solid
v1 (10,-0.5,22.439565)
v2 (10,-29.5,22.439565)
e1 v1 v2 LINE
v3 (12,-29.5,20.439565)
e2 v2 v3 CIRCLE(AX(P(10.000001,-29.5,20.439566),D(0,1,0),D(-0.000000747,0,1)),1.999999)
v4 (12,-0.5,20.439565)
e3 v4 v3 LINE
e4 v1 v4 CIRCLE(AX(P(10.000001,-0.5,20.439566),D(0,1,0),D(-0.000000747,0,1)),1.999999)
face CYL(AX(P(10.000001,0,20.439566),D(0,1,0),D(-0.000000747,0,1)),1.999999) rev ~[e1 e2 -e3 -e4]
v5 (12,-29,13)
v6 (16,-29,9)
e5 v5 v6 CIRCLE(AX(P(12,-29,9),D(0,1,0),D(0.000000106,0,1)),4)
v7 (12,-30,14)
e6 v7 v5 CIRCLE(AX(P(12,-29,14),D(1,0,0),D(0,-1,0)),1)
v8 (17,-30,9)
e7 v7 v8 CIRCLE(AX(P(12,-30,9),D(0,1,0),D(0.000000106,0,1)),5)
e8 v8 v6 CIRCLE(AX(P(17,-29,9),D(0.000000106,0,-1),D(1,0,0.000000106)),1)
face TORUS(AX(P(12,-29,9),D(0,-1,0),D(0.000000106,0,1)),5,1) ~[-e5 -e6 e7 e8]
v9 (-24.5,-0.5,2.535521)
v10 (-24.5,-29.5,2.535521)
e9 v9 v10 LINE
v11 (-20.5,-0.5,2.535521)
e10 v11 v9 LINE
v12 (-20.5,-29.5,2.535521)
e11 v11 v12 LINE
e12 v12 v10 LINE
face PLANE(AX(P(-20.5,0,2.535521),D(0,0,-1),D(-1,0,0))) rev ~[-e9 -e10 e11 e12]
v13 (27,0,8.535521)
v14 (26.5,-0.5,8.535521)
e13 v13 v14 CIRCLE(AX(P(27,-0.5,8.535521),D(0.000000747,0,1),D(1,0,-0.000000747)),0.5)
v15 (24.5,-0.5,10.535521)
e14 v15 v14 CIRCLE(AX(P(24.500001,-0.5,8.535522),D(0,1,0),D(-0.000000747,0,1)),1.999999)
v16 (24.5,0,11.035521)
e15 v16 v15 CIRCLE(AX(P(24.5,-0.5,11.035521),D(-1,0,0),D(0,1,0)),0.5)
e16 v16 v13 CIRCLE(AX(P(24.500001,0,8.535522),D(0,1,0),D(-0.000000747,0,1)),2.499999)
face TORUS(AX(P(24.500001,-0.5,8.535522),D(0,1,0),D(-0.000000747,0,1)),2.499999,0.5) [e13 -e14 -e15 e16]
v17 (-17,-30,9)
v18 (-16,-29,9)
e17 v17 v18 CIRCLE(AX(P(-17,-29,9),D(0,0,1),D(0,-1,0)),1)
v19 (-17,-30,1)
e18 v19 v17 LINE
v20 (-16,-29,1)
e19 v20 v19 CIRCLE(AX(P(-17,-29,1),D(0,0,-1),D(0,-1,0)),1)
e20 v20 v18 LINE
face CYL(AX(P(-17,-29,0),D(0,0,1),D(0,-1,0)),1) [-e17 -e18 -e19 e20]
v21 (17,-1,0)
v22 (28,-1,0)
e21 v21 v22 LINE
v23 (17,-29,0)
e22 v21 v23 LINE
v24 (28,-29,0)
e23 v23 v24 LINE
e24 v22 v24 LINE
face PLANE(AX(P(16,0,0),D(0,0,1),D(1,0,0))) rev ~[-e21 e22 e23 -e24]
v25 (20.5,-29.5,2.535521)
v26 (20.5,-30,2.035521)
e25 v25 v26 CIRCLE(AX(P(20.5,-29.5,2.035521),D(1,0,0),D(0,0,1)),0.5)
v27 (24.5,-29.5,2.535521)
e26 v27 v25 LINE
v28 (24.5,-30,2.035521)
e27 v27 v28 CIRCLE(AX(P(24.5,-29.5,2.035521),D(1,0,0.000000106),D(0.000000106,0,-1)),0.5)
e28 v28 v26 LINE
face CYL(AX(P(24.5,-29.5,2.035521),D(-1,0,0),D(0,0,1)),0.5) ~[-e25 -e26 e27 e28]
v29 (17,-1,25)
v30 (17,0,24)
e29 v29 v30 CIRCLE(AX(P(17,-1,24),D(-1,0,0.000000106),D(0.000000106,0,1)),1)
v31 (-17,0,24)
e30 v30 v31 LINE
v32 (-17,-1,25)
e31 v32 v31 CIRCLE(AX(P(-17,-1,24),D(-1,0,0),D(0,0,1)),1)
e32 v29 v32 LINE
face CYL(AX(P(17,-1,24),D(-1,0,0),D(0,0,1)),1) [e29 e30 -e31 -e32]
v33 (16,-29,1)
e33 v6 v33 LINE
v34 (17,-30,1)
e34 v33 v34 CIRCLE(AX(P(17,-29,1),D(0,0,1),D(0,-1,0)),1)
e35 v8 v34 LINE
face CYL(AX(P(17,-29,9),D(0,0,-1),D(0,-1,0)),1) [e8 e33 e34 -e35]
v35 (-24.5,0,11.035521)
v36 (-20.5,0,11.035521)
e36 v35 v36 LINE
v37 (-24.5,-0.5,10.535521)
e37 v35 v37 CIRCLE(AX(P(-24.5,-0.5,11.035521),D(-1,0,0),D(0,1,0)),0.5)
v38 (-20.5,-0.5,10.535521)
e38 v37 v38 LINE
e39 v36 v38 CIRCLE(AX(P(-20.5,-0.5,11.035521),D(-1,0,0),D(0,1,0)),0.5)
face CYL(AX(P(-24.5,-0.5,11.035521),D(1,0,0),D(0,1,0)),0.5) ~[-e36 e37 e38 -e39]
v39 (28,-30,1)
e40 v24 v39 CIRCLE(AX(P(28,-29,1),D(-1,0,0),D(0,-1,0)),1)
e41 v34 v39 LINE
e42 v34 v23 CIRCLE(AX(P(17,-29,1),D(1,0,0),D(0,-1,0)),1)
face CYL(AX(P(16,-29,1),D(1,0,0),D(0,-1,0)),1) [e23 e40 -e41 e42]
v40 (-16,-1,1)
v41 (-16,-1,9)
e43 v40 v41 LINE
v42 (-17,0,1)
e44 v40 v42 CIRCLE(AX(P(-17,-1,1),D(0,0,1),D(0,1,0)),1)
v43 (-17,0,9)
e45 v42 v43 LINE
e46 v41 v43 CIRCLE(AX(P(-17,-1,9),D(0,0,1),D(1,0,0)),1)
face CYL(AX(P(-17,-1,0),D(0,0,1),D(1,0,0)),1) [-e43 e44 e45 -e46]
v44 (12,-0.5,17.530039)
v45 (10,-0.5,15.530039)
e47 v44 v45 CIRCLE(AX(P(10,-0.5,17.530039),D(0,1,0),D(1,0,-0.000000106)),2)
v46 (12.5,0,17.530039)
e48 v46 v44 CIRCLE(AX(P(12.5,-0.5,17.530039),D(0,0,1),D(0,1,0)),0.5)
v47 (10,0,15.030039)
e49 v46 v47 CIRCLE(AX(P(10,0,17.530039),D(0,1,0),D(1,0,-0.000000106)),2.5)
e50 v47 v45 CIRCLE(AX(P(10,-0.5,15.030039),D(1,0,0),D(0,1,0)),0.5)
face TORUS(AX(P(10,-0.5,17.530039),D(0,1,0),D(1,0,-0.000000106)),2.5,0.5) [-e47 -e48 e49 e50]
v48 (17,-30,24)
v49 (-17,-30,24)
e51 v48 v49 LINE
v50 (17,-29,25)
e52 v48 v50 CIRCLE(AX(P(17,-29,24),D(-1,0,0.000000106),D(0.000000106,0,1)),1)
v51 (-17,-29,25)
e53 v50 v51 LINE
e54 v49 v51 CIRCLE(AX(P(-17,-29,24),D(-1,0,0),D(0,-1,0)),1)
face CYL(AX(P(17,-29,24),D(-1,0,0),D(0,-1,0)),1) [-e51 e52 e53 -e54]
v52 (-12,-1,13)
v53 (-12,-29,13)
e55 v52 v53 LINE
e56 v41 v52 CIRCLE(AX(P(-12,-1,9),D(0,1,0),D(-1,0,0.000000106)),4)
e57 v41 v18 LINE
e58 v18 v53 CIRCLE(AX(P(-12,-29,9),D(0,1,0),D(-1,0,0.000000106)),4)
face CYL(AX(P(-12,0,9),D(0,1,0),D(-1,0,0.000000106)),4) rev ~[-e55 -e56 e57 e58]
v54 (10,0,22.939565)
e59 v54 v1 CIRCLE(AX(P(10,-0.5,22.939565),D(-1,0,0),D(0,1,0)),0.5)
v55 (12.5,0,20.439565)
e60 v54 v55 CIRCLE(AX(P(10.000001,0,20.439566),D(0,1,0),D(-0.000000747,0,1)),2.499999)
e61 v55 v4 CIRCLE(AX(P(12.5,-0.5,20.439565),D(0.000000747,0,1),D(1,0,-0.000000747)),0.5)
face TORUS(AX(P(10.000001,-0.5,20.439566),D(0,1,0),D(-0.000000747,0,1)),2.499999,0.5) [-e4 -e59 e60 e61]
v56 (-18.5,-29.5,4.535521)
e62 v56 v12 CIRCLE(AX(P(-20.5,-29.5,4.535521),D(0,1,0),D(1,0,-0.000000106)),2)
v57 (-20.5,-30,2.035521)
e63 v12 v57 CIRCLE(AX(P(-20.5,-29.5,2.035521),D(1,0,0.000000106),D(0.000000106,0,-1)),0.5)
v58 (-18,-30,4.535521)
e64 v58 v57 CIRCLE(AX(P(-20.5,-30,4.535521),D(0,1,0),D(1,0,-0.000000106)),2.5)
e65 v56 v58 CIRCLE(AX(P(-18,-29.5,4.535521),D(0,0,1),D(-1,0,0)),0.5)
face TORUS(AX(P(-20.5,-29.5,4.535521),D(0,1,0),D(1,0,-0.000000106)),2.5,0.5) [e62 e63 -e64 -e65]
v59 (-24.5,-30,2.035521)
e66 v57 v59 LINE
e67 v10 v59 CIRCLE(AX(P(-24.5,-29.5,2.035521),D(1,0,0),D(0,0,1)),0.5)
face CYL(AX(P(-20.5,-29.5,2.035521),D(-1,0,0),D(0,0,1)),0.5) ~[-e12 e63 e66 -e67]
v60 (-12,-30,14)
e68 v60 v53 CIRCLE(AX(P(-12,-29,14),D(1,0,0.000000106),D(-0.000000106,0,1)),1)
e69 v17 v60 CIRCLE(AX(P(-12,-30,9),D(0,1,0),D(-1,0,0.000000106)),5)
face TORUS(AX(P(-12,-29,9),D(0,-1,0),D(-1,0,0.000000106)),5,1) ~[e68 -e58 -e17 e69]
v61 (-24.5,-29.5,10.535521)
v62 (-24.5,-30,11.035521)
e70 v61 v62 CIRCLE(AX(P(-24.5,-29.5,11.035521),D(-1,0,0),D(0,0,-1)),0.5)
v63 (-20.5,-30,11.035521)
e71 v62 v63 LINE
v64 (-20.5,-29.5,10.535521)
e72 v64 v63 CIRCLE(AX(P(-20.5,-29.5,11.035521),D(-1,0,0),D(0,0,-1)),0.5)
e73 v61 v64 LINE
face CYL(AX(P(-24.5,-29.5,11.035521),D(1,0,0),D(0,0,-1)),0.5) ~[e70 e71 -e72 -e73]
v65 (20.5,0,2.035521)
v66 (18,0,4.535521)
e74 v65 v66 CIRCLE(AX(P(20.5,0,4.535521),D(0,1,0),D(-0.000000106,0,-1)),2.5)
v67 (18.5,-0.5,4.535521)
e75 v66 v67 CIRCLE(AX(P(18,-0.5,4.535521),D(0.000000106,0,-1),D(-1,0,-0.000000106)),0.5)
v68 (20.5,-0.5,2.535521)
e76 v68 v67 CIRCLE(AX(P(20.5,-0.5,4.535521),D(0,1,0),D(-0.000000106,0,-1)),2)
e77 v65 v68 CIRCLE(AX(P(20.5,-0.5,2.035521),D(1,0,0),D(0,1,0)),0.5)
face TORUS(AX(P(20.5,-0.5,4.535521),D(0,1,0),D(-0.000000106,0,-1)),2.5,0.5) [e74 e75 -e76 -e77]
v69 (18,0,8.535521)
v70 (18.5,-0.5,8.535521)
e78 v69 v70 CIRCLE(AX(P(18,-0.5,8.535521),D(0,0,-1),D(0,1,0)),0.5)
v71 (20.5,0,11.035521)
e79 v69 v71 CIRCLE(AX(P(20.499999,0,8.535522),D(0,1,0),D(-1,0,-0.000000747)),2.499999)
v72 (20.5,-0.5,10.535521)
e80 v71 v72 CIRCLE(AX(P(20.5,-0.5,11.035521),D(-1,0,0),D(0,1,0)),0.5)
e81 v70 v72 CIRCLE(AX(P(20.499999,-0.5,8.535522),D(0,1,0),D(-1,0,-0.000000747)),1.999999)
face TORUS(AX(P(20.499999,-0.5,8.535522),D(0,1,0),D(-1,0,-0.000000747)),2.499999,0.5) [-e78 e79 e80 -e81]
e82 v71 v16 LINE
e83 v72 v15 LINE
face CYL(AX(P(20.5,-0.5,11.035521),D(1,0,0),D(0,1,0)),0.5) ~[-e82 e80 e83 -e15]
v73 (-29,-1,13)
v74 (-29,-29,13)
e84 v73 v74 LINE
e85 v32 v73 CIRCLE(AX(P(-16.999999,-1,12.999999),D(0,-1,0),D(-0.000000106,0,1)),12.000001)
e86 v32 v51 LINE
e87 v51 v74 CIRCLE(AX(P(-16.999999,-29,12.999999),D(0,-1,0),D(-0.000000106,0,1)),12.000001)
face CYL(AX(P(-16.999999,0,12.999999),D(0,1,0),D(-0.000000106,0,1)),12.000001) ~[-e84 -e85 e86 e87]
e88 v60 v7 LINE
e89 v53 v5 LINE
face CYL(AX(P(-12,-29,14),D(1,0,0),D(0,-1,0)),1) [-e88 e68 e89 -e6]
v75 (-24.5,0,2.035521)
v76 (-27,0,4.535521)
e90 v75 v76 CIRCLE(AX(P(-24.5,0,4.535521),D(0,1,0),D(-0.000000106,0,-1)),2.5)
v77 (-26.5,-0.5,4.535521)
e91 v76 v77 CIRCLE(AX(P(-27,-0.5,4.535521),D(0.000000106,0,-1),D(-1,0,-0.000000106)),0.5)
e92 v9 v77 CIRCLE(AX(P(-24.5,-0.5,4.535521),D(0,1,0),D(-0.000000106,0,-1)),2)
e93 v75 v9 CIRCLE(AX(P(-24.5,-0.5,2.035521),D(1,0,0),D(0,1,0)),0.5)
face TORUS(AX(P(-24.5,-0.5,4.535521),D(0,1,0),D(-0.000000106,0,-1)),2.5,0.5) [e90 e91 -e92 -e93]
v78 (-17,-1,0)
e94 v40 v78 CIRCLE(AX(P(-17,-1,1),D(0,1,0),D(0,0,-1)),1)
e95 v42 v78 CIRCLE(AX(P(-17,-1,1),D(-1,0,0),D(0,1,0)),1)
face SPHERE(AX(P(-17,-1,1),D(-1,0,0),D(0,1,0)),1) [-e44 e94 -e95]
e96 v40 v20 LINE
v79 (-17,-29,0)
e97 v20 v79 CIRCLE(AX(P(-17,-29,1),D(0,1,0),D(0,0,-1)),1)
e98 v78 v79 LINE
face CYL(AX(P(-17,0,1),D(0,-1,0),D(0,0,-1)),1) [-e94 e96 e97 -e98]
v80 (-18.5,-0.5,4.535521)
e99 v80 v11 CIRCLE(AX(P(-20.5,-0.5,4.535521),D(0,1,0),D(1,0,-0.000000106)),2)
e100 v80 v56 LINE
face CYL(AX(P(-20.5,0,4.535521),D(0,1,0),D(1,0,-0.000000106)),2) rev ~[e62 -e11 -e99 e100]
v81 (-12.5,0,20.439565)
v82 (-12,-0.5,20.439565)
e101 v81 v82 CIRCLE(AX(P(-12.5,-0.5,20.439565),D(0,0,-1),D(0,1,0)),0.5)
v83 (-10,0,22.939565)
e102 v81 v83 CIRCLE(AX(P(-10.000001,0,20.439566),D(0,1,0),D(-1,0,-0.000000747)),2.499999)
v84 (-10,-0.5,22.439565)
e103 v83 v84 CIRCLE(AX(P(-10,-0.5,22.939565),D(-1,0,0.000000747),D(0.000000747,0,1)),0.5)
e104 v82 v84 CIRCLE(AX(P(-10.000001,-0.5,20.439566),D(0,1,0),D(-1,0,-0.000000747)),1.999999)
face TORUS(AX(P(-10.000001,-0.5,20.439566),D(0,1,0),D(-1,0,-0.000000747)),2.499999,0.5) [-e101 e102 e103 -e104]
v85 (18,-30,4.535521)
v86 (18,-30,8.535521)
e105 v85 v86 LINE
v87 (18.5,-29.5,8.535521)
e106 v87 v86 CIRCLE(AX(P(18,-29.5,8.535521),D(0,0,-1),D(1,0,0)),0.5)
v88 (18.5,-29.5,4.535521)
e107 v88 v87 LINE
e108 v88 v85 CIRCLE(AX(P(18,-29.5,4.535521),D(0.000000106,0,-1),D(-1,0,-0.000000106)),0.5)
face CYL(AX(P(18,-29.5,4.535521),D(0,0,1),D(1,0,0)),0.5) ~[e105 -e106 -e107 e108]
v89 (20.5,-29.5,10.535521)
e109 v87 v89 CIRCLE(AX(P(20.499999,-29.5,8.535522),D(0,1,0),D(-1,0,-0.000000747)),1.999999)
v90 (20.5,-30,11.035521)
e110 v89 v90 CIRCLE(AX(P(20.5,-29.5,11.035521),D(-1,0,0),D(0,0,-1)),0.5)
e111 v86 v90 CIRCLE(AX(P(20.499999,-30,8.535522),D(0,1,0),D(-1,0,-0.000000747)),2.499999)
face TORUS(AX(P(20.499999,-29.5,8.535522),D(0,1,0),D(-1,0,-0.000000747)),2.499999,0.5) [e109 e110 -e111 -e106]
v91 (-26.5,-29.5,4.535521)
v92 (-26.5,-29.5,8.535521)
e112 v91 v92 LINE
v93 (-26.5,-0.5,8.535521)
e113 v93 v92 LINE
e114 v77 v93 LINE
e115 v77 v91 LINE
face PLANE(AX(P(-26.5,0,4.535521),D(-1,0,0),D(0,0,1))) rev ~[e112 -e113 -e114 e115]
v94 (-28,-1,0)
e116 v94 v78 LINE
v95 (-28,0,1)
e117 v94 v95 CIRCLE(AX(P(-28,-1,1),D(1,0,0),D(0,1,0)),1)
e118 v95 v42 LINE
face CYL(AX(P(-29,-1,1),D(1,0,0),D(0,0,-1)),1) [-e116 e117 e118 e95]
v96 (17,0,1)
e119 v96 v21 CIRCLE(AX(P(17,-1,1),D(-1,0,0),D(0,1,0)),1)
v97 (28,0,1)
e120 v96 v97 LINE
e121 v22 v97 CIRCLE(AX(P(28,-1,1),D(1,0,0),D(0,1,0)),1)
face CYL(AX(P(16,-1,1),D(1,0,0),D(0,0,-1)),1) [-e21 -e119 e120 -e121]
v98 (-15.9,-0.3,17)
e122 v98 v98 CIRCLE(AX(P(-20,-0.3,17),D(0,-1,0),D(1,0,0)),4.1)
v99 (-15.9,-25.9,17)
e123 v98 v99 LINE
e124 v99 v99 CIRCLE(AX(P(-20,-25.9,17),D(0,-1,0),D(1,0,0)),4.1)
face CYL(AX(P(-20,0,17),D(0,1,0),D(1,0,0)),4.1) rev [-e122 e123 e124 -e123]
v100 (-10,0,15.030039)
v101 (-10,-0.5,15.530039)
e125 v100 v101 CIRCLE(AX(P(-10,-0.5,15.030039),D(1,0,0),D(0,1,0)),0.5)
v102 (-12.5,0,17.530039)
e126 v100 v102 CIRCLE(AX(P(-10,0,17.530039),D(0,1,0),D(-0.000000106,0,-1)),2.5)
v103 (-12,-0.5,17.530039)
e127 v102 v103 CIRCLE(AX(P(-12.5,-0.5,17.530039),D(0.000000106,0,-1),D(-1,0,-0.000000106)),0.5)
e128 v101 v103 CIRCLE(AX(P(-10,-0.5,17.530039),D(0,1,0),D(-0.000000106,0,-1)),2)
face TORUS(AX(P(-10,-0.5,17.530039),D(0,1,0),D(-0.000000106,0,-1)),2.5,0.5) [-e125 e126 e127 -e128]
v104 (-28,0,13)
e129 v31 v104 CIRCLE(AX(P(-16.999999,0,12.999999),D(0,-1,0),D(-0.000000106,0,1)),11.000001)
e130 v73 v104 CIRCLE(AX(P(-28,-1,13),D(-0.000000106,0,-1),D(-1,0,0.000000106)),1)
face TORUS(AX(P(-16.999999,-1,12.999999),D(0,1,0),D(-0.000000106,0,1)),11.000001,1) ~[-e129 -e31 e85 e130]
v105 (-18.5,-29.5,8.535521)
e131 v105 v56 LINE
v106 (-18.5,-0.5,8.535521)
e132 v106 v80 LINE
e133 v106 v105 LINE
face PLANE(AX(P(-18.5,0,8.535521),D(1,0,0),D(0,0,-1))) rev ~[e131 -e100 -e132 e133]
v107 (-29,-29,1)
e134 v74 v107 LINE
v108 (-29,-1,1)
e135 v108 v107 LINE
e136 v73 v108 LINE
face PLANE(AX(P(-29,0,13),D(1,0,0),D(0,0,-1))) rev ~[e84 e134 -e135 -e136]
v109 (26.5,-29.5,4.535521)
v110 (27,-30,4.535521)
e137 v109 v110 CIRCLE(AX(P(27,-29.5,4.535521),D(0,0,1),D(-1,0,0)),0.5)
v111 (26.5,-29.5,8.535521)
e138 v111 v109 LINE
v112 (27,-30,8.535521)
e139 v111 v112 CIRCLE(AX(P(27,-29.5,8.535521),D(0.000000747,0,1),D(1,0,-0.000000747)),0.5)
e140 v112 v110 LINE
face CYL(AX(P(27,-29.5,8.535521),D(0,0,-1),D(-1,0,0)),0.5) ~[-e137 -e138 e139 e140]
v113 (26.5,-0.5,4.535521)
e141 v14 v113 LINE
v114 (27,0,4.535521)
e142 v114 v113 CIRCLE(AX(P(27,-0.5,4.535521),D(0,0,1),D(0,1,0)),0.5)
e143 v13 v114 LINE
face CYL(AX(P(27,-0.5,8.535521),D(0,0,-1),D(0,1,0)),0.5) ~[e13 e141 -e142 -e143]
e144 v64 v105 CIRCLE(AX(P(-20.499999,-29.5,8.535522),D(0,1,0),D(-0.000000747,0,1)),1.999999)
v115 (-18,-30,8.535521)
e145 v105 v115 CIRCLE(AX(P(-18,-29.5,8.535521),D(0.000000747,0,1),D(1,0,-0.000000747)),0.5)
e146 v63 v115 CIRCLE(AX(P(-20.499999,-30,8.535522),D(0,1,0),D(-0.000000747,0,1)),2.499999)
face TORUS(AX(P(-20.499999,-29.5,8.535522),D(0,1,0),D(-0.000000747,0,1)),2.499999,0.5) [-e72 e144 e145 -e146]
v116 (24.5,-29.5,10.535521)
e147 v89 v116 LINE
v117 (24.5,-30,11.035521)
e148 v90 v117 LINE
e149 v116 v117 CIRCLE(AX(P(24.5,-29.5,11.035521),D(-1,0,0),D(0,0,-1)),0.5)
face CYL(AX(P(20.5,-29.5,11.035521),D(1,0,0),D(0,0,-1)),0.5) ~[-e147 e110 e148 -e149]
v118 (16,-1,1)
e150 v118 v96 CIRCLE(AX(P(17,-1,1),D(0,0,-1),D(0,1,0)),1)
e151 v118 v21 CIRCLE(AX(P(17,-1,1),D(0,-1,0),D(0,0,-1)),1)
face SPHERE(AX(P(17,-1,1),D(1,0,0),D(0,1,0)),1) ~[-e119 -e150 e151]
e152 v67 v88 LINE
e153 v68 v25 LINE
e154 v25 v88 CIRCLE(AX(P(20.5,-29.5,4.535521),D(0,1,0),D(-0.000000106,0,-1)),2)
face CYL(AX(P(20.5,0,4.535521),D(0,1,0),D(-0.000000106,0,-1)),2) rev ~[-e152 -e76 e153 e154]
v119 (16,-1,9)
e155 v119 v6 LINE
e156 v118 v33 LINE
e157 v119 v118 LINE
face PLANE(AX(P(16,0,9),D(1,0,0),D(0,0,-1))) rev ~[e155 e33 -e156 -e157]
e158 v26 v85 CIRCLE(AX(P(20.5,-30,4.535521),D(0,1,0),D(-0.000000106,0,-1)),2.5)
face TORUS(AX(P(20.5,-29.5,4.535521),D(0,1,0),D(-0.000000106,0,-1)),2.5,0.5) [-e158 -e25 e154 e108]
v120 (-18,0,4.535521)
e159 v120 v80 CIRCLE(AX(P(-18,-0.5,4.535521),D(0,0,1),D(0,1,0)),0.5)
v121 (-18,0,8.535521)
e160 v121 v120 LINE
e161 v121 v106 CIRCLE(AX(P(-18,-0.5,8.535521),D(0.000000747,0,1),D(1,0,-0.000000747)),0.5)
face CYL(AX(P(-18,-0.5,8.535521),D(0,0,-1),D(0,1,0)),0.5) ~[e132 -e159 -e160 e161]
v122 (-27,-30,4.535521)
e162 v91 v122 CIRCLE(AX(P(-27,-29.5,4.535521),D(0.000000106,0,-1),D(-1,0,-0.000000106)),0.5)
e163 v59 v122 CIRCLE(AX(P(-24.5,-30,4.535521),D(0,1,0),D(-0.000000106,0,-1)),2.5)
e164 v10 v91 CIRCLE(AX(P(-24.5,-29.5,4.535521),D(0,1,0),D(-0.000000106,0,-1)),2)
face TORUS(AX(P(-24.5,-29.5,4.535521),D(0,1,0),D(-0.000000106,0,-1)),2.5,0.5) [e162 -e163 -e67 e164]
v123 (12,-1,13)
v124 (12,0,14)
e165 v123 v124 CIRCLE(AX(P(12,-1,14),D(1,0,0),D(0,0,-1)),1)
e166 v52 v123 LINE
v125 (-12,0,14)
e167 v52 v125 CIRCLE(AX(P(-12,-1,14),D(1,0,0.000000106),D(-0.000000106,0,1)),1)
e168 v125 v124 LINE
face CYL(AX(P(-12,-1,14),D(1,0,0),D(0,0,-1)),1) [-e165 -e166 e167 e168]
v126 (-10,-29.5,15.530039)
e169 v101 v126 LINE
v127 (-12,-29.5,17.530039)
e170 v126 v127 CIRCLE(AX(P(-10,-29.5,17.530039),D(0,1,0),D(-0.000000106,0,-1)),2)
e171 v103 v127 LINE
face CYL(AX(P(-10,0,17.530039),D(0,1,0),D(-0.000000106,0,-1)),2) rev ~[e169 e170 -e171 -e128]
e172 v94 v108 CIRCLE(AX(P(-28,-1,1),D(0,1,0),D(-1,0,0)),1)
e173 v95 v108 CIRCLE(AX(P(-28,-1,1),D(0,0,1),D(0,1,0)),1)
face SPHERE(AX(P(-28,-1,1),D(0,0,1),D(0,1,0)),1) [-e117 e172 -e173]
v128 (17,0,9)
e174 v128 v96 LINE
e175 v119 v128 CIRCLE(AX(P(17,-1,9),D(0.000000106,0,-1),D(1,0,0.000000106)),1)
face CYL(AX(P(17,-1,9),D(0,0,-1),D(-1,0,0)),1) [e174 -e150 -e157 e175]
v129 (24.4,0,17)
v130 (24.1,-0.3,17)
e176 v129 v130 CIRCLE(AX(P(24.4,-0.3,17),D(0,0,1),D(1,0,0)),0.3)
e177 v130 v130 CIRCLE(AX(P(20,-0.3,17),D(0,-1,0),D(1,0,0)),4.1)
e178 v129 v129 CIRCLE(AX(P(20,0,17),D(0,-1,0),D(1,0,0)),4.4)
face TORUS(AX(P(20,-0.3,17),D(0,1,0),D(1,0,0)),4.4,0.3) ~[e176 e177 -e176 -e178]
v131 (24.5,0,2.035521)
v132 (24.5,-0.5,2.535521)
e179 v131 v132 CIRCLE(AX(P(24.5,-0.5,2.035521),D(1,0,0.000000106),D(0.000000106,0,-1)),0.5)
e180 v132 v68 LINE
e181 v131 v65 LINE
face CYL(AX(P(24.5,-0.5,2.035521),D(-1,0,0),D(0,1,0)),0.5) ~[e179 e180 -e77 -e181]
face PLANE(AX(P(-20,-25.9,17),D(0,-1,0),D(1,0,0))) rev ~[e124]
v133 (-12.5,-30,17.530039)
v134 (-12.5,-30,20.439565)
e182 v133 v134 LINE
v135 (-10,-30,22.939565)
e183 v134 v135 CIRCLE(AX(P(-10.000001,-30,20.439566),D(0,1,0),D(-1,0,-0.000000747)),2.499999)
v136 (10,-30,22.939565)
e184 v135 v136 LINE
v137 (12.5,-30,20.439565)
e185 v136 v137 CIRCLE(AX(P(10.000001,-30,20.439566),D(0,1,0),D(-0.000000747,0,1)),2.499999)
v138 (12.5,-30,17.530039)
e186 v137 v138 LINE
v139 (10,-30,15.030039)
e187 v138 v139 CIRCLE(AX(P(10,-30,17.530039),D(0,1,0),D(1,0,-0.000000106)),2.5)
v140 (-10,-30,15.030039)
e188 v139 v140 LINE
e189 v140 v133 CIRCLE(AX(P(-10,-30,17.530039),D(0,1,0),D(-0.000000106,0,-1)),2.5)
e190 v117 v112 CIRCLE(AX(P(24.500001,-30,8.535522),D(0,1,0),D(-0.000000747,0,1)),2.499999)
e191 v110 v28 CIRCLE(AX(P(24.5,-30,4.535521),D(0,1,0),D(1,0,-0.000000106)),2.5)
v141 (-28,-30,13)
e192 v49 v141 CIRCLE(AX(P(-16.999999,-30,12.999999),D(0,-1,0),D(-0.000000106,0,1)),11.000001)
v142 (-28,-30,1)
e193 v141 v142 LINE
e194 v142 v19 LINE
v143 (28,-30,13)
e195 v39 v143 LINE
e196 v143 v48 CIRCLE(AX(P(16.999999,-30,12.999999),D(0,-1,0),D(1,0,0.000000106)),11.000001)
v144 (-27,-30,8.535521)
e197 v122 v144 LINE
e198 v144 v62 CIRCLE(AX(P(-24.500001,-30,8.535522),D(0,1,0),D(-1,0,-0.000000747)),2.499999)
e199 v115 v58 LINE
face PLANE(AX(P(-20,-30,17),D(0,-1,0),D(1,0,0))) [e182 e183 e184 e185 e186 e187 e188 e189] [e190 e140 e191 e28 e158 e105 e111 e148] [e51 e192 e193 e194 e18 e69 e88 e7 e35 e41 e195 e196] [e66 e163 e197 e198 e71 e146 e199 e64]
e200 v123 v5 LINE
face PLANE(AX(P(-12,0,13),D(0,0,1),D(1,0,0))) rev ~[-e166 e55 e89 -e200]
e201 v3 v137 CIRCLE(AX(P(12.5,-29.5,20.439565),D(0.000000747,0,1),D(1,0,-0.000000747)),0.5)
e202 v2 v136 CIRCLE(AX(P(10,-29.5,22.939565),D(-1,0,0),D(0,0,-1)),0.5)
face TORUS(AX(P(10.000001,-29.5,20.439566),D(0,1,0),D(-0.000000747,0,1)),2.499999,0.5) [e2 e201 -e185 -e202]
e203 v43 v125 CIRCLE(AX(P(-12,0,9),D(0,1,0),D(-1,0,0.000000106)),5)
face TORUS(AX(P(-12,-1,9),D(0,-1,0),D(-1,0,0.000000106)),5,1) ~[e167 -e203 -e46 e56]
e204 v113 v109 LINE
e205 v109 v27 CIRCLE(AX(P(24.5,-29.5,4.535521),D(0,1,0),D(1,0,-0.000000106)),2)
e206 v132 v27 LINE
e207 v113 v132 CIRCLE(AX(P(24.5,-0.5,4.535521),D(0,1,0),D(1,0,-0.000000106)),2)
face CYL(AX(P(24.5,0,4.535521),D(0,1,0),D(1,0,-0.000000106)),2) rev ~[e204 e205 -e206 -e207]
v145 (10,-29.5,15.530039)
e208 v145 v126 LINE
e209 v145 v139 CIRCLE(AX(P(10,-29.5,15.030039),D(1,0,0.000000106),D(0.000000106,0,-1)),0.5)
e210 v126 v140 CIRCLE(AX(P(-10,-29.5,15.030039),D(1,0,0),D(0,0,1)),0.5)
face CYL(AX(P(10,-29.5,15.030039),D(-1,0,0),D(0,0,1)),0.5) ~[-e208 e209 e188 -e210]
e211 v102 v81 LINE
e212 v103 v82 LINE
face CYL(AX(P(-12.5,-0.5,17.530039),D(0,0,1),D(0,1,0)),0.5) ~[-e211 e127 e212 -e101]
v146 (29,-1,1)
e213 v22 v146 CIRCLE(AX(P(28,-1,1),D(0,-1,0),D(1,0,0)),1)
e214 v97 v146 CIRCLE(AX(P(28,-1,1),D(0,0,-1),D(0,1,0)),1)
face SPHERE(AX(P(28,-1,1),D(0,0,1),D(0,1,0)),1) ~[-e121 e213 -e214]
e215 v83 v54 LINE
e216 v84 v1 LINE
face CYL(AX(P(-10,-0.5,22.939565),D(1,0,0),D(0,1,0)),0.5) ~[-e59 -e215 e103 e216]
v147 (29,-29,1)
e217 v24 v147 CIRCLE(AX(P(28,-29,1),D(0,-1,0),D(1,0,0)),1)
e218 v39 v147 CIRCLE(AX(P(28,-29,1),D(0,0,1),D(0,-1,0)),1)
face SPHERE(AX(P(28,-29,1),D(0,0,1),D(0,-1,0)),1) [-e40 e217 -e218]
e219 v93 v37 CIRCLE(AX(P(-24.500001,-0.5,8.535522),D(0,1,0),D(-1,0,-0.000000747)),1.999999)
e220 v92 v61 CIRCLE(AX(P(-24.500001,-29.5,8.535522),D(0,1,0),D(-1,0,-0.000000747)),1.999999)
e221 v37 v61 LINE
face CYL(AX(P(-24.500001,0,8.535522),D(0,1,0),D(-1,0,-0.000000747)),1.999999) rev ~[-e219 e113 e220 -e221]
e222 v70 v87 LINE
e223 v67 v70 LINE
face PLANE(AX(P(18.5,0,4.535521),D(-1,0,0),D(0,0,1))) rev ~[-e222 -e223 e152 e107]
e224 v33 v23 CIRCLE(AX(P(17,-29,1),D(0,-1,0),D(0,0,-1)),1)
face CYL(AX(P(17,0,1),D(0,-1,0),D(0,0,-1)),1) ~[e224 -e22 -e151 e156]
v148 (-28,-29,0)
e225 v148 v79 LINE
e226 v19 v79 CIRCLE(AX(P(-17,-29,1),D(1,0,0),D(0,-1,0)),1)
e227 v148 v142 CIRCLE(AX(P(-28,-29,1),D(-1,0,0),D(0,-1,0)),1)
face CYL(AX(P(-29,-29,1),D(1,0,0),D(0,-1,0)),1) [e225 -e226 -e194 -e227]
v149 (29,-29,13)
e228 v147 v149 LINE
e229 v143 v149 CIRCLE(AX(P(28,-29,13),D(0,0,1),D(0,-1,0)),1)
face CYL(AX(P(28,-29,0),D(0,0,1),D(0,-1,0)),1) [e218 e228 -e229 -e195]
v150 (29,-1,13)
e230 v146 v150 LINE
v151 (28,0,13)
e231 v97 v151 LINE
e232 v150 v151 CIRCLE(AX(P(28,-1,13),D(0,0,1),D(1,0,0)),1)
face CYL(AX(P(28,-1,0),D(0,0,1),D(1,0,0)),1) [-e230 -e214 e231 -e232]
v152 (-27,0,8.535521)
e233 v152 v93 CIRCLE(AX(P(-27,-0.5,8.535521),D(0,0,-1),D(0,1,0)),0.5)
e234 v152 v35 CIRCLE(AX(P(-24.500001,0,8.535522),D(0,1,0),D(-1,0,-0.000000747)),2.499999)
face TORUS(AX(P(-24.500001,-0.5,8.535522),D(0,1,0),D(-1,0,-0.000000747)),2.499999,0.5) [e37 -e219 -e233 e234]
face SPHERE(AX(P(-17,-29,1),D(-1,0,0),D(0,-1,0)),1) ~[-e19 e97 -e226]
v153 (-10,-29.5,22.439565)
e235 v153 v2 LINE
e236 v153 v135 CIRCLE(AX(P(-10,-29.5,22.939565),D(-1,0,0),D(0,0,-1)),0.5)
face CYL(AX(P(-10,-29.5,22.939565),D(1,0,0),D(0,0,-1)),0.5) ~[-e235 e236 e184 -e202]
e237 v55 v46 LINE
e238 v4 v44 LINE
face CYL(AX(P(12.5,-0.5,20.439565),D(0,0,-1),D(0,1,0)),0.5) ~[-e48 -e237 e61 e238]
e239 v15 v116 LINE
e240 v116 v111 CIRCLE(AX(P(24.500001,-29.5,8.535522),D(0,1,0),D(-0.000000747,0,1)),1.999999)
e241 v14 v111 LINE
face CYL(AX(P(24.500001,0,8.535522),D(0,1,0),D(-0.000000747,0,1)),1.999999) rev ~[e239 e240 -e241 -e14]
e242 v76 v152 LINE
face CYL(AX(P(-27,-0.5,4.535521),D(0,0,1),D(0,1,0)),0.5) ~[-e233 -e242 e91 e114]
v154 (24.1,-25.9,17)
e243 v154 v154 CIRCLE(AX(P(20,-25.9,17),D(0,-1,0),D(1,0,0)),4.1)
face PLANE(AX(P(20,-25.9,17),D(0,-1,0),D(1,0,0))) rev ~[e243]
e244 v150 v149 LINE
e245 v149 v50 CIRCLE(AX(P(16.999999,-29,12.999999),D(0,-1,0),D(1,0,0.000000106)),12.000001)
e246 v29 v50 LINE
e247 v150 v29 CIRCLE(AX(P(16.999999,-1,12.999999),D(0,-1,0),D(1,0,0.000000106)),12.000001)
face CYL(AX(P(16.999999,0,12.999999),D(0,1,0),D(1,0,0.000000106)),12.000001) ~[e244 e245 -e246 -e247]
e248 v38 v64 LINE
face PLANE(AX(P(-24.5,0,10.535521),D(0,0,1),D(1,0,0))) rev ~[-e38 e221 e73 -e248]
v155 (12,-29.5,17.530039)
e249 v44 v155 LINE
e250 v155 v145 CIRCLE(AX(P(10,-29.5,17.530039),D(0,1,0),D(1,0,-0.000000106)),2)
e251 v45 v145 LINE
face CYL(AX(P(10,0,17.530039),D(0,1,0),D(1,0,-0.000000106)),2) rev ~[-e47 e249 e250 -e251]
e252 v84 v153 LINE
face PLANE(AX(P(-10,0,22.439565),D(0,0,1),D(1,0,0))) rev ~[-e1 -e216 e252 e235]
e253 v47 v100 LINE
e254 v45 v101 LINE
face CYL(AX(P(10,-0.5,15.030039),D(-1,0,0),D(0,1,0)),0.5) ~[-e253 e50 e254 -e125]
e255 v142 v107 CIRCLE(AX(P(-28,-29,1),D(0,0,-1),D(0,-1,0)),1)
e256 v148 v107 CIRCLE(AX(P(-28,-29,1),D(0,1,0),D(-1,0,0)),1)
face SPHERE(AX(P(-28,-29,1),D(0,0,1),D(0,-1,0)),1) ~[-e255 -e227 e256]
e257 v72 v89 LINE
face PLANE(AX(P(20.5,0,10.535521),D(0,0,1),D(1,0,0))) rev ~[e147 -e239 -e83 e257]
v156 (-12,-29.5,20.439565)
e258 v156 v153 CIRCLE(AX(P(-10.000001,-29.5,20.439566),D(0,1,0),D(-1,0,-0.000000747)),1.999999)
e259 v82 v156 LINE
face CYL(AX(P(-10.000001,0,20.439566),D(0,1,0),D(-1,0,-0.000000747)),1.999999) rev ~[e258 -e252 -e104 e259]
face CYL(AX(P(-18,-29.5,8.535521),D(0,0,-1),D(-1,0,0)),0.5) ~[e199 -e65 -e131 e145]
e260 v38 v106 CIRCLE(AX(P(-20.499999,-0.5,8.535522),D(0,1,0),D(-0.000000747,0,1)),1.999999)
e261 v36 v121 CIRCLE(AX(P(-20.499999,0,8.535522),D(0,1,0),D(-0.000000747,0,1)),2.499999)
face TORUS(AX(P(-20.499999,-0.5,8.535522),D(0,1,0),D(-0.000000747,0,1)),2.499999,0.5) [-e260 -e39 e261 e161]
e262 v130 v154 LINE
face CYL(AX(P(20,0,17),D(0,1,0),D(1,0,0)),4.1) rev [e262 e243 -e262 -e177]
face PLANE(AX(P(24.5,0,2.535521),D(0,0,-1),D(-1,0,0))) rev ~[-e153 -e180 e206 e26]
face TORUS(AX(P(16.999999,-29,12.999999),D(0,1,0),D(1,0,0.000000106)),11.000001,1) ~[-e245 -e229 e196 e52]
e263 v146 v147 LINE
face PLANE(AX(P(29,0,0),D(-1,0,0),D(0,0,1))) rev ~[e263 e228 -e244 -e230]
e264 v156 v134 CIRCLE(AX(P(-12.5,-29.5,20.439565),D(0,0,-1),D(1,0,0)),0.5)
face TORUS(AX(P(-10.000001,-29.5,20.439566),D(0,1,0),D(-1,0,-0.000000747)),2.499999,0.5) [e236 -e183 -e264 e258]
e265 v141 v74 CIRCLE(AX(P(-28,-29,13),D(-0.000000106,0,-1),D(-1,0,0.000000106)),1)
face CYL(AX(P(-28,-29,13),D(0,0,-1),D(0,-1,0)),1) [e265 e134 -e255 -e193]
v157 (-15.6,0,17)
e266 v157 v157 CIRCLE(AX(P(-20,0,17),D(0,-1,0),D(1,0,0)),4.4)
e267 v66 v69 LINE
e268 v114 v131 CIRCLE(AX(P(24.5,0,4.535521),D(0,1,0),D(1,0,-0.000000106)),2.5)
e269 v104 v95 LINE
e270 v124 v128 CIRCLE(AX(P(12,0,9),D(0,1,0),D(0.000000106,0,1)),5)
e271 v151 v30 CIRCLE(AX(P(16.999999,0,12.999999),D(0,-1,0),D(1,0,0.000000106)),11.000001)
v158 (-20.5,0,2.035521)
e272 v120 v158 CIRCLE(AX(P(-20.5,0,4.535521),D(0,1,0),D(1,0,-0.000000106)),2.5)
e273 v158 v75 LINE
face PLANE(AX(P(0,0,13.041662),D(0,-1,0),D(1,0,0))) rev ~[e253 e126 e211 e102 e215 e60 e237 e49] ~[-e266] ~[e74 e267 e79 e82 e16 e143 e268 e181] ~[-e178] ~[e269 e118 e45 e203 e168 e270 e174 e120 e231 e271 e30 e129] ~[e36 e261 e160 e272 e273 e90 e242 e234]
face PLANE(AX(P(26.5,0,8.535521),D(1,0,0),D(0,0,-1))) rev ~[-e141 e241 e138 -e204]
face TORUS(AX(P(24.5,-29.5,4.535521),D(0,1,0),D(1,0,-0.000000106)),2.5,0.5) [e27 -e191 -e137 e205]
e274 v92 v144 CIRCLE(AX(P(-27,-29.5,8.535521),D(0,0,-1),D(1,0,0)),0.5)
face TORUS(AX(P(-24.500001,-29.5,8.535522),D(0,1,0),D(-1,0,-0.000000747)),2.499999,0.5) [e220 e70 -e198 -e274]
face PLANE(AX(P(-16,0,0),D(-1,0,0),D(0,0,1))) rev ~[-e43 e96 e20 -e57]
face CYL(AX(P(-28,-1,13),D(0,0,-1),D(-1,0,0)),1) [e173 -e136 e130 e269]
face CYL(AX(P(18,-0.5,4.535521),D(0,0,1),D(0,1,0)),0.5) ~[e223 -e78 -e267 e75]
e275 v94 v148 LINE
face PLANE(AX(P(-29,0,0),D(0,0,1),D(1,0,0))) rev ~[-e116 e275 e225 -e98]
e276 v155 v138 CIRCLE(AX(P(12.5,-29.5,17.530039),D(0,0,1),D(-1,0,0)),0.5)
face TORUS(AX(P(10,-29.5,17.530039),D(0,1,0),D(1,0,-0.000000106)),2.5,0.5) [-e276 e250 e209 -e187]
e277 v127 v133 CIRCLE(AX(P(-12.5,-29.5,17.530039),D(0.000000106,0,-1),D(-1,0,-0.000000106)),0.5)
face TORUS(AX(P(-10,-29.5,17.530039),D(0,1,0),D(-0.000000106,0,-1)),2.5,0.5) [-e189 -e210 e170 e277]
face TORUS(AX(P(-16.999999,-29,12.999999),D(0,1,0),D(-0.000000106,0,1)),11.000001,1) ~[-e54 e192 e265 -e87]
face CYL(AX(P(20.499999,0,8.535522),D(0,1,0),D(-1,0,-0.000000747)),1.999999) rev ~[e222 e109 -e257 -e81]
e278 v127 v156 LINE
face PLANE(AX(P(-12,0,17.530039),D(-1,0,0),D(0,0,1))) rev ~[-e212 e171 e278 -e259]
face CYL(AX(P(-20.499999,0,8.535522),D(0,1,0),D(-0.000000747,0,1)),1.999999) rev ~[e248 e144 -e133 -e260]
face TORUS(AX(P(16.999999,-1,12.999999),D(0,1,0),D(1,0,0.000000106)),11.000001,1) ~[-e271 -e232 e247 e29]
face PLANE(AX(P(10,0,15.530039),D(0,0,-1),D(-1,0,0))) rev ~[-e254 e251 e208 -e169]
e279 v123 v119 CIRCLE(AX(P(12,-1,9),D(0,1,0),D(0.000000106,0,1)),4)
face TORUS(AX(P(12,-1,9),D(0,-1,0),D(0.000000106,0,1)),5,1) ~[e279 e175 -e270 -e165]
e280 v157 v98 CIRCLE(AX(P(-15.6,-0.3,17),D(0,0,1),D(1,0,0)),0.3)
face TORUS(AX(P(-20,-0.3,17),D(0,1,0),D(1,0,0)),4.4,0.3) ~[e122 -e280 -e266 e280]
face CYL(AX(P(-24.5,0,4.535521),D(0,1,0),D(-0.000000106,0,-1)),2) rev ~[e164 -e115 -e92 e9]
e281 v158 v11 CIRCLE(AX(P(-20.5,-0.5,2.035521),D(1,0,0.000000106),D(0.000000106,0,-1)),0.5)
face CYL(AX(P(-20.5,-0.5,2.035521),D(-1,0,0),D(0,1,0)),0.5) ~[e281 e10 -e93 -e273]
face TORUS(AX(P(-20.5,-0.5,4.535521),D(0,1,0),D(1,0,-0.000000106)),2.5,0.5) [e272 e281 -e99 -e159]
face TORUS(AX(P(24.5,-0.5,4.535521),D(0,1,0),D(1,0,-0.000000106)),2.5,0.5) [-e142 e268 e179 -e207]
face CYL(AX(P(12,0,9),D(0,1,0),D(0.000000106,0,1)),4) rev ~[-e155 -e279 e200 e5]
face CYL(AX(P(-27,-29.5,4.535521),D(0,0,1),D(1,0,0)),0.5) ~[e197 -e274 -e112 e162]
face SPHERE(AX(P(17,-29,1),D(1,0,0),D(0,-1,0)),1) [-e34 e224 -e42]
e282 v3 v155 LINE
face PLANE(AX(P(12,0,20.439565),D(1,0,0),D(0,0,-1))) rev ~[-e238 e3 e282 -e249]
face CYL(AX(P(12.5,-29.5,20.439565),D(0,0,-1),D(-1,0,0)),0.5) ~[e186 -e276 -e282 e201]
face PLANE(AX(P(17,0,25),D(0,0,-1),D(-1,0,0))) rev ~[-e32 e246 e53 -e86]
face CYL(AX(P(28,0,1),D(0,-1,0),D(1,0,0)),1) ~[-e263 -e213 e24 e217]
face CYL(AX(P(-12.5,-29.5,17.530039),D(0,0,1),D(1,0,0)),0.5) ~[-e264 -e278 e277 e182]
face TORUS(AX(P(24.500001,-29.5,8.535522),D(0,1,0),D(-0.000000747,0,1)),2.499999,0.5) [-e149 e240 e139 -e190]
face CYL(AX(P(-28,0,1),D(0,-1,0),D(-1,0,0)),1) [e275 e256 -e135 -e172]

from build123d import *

# Parameters (mm, degrees)
F0_R     = 4.1
F1_DEPTH = 30
F2_R     = 4.1
F3_DEPTH = 4.1
F4_R     = 1
F5_R     = 0.3
F6_R     = 0.5


with BuildPart() as f1:
    # F0 (on Front) → F1 (new body)
    with BuildSketch(Plane.XZ):
        with BuildLine():
            Line((-29, 13), (-29, 0))
            Line((-29, 0), (-16, 0))
            Line((-16, 0), (-16, 9))
            ThreePointArc((-16, 9), (-14.828427, 11.828427), (-12, 13))
            Line((-12, 13), (0, 13))
            Line((0, 13), (12, 13))
            ThreePointArc((12, 13), (14.828427, 11.828427), (16, 9))
            Line((16, 9), (16, 0))
            Line((16, 0), (29, 0))
            Line((29, 0), (29, 13))
            ThreePointArc((29, 13), (25.485281, 21.485281), (17, 25))
            Line((17, 25), (0, 25))
            Line((0, 25), (-17, 25))
            ThreePointArc((-17, 25), (-25.485281, 21.485281), (-29, 13))
        make_face()
        with BuildLine():
            Line((-24.5, 10.535521), (-20.5, 10.535521))
            ThreePointArc((-20.5, 10.535521), (-19.085786, 9.949735), (-18.5, 8.535521))
            Line((-18.5, 8.535521), (-18.5, 4.535521))
            ThreePointArc((-18.5, 4.535521), (-19.085786, 3.121308), (-20.5, 2.535521))
            Line((-20.5, 2.535521), (-24.5, 2.535521))
            ThreePointArc((-24.5, 2.535521), (-25.914214, 3.121308), (-26.5, 4.535521))
            Line((-26.5, 4.535521), (-26.5, 8.535521))
            ThreePointArc((-26.5, 8.535521), (-25.914214, 9.949735), (-24.5, 10.535521))
        make_face(mode=Mode.SUBTRACT)
        with BuildLine():
            ThreePointArc((18.5, 8.535521), (19.085786, 9.949735), (20.5, 10.535521))
            Line((20.5, 10.535521), (24.5, 10.535521))
            ThreePointArc((24.5, 10.535521), (25.914214, 9.949735), (26.5, 8.535521))
            Line((26.5, 8.535521), (26.5, 4.535521))
            ThreePointArc((26.5, 4.535521), (25.914214, 3.121308), (24.5, 2.535521))
            Line((24.5, 2.535521), (20.5, 2.535521))
            ThreePointArc((20.5, 2.535521), (19.085786, 3.121308), (18.5, 4.535521))
            Line((18.5, 4.535521), (18.5, 8.535521))
        make_face(mode=Mode.SUBTRACT)
        with Locations((-20, 17)):
            Circle(F0_R, mode=Mode.SUBTRACT)
        with BuildLine():
            Line((-10, 22.439565), (10, 22.439565))
            ThreePointArc((10, 22.439565), (11.414214, 21.853779), (12, 20.439565))
            Line((12, 20.439565), (12, 17.530039))
            ThreePointArc((12, 17.530039), (11.414214, 16.115826), (10, 15.530039))
            Line((10, 15.530039), (-10, 15.530039))
            ThreePointArc((-10, 15.530039), (-11.414214, 16.115826), (-12, 17.530039))
            Line((-12, 17.530039), (-12, 20.439565))
            ThreePointArc((-12, 20.439565), (-11.414214, 21.853779), (-10, 22.439565))
        make_face(mode=Mode.SUBTRACT)
        with Locations((20, 17)):
            Circle(F0_R, mode=Mode.SUBTRACT)
    extrude(amount=F1_DEPTH)

    # F2 (on face) → F3 (join)
    with BuildSketch(Plane.XZ.offset(30)):
        with Locations((-20, 17)):
            Circle(F2_R)
        with Locations((20, 17)):
            Circle(F2_R)
    extrude(amount=-F3_DEPTH)

    # F4
    f4_edges = [f1.edges().sort_by_distance(p)[0] for p in [
        (0, 0, 25),
        (22.5, 0, 0),
        (-22.5, 0, 0),
        (-16, 0, 4.5),
        (0, -30, 25),
        (22.5, -30, 0),
        (-22.5, -30, 0),
        (-16, -30, 4.5),
        (29, -15, 0),
        (16, -15, 0),
        (-29, -15, 0),
        (-16, -15, 0),
    ]]
    fillet(f4_edges, radius=F4_R)

    # F5
    f5_edges = [f1.edges().sort_by_distance(p)[0] for p in [
        (15.9, 0, 17),
        (-24.1, 0, 17),
    ]]
    fillet(f5_edges, radius=F5_R)

    # F6
    f6_edges = [f1.edges().sort_by_distance(p)[0] for p in [
        (22.5, -30, 10.535521),
        (-22.5, -30, 10.535521),
        (22.5, 0, 10.535521),
        (-22.5, 0, 10.535521),
        (0, 0, 15.530039),
        (0, -30, 22.439565),
    ]]
    fillet(f6_edges, radius=F6_R)


solid = f1.part
